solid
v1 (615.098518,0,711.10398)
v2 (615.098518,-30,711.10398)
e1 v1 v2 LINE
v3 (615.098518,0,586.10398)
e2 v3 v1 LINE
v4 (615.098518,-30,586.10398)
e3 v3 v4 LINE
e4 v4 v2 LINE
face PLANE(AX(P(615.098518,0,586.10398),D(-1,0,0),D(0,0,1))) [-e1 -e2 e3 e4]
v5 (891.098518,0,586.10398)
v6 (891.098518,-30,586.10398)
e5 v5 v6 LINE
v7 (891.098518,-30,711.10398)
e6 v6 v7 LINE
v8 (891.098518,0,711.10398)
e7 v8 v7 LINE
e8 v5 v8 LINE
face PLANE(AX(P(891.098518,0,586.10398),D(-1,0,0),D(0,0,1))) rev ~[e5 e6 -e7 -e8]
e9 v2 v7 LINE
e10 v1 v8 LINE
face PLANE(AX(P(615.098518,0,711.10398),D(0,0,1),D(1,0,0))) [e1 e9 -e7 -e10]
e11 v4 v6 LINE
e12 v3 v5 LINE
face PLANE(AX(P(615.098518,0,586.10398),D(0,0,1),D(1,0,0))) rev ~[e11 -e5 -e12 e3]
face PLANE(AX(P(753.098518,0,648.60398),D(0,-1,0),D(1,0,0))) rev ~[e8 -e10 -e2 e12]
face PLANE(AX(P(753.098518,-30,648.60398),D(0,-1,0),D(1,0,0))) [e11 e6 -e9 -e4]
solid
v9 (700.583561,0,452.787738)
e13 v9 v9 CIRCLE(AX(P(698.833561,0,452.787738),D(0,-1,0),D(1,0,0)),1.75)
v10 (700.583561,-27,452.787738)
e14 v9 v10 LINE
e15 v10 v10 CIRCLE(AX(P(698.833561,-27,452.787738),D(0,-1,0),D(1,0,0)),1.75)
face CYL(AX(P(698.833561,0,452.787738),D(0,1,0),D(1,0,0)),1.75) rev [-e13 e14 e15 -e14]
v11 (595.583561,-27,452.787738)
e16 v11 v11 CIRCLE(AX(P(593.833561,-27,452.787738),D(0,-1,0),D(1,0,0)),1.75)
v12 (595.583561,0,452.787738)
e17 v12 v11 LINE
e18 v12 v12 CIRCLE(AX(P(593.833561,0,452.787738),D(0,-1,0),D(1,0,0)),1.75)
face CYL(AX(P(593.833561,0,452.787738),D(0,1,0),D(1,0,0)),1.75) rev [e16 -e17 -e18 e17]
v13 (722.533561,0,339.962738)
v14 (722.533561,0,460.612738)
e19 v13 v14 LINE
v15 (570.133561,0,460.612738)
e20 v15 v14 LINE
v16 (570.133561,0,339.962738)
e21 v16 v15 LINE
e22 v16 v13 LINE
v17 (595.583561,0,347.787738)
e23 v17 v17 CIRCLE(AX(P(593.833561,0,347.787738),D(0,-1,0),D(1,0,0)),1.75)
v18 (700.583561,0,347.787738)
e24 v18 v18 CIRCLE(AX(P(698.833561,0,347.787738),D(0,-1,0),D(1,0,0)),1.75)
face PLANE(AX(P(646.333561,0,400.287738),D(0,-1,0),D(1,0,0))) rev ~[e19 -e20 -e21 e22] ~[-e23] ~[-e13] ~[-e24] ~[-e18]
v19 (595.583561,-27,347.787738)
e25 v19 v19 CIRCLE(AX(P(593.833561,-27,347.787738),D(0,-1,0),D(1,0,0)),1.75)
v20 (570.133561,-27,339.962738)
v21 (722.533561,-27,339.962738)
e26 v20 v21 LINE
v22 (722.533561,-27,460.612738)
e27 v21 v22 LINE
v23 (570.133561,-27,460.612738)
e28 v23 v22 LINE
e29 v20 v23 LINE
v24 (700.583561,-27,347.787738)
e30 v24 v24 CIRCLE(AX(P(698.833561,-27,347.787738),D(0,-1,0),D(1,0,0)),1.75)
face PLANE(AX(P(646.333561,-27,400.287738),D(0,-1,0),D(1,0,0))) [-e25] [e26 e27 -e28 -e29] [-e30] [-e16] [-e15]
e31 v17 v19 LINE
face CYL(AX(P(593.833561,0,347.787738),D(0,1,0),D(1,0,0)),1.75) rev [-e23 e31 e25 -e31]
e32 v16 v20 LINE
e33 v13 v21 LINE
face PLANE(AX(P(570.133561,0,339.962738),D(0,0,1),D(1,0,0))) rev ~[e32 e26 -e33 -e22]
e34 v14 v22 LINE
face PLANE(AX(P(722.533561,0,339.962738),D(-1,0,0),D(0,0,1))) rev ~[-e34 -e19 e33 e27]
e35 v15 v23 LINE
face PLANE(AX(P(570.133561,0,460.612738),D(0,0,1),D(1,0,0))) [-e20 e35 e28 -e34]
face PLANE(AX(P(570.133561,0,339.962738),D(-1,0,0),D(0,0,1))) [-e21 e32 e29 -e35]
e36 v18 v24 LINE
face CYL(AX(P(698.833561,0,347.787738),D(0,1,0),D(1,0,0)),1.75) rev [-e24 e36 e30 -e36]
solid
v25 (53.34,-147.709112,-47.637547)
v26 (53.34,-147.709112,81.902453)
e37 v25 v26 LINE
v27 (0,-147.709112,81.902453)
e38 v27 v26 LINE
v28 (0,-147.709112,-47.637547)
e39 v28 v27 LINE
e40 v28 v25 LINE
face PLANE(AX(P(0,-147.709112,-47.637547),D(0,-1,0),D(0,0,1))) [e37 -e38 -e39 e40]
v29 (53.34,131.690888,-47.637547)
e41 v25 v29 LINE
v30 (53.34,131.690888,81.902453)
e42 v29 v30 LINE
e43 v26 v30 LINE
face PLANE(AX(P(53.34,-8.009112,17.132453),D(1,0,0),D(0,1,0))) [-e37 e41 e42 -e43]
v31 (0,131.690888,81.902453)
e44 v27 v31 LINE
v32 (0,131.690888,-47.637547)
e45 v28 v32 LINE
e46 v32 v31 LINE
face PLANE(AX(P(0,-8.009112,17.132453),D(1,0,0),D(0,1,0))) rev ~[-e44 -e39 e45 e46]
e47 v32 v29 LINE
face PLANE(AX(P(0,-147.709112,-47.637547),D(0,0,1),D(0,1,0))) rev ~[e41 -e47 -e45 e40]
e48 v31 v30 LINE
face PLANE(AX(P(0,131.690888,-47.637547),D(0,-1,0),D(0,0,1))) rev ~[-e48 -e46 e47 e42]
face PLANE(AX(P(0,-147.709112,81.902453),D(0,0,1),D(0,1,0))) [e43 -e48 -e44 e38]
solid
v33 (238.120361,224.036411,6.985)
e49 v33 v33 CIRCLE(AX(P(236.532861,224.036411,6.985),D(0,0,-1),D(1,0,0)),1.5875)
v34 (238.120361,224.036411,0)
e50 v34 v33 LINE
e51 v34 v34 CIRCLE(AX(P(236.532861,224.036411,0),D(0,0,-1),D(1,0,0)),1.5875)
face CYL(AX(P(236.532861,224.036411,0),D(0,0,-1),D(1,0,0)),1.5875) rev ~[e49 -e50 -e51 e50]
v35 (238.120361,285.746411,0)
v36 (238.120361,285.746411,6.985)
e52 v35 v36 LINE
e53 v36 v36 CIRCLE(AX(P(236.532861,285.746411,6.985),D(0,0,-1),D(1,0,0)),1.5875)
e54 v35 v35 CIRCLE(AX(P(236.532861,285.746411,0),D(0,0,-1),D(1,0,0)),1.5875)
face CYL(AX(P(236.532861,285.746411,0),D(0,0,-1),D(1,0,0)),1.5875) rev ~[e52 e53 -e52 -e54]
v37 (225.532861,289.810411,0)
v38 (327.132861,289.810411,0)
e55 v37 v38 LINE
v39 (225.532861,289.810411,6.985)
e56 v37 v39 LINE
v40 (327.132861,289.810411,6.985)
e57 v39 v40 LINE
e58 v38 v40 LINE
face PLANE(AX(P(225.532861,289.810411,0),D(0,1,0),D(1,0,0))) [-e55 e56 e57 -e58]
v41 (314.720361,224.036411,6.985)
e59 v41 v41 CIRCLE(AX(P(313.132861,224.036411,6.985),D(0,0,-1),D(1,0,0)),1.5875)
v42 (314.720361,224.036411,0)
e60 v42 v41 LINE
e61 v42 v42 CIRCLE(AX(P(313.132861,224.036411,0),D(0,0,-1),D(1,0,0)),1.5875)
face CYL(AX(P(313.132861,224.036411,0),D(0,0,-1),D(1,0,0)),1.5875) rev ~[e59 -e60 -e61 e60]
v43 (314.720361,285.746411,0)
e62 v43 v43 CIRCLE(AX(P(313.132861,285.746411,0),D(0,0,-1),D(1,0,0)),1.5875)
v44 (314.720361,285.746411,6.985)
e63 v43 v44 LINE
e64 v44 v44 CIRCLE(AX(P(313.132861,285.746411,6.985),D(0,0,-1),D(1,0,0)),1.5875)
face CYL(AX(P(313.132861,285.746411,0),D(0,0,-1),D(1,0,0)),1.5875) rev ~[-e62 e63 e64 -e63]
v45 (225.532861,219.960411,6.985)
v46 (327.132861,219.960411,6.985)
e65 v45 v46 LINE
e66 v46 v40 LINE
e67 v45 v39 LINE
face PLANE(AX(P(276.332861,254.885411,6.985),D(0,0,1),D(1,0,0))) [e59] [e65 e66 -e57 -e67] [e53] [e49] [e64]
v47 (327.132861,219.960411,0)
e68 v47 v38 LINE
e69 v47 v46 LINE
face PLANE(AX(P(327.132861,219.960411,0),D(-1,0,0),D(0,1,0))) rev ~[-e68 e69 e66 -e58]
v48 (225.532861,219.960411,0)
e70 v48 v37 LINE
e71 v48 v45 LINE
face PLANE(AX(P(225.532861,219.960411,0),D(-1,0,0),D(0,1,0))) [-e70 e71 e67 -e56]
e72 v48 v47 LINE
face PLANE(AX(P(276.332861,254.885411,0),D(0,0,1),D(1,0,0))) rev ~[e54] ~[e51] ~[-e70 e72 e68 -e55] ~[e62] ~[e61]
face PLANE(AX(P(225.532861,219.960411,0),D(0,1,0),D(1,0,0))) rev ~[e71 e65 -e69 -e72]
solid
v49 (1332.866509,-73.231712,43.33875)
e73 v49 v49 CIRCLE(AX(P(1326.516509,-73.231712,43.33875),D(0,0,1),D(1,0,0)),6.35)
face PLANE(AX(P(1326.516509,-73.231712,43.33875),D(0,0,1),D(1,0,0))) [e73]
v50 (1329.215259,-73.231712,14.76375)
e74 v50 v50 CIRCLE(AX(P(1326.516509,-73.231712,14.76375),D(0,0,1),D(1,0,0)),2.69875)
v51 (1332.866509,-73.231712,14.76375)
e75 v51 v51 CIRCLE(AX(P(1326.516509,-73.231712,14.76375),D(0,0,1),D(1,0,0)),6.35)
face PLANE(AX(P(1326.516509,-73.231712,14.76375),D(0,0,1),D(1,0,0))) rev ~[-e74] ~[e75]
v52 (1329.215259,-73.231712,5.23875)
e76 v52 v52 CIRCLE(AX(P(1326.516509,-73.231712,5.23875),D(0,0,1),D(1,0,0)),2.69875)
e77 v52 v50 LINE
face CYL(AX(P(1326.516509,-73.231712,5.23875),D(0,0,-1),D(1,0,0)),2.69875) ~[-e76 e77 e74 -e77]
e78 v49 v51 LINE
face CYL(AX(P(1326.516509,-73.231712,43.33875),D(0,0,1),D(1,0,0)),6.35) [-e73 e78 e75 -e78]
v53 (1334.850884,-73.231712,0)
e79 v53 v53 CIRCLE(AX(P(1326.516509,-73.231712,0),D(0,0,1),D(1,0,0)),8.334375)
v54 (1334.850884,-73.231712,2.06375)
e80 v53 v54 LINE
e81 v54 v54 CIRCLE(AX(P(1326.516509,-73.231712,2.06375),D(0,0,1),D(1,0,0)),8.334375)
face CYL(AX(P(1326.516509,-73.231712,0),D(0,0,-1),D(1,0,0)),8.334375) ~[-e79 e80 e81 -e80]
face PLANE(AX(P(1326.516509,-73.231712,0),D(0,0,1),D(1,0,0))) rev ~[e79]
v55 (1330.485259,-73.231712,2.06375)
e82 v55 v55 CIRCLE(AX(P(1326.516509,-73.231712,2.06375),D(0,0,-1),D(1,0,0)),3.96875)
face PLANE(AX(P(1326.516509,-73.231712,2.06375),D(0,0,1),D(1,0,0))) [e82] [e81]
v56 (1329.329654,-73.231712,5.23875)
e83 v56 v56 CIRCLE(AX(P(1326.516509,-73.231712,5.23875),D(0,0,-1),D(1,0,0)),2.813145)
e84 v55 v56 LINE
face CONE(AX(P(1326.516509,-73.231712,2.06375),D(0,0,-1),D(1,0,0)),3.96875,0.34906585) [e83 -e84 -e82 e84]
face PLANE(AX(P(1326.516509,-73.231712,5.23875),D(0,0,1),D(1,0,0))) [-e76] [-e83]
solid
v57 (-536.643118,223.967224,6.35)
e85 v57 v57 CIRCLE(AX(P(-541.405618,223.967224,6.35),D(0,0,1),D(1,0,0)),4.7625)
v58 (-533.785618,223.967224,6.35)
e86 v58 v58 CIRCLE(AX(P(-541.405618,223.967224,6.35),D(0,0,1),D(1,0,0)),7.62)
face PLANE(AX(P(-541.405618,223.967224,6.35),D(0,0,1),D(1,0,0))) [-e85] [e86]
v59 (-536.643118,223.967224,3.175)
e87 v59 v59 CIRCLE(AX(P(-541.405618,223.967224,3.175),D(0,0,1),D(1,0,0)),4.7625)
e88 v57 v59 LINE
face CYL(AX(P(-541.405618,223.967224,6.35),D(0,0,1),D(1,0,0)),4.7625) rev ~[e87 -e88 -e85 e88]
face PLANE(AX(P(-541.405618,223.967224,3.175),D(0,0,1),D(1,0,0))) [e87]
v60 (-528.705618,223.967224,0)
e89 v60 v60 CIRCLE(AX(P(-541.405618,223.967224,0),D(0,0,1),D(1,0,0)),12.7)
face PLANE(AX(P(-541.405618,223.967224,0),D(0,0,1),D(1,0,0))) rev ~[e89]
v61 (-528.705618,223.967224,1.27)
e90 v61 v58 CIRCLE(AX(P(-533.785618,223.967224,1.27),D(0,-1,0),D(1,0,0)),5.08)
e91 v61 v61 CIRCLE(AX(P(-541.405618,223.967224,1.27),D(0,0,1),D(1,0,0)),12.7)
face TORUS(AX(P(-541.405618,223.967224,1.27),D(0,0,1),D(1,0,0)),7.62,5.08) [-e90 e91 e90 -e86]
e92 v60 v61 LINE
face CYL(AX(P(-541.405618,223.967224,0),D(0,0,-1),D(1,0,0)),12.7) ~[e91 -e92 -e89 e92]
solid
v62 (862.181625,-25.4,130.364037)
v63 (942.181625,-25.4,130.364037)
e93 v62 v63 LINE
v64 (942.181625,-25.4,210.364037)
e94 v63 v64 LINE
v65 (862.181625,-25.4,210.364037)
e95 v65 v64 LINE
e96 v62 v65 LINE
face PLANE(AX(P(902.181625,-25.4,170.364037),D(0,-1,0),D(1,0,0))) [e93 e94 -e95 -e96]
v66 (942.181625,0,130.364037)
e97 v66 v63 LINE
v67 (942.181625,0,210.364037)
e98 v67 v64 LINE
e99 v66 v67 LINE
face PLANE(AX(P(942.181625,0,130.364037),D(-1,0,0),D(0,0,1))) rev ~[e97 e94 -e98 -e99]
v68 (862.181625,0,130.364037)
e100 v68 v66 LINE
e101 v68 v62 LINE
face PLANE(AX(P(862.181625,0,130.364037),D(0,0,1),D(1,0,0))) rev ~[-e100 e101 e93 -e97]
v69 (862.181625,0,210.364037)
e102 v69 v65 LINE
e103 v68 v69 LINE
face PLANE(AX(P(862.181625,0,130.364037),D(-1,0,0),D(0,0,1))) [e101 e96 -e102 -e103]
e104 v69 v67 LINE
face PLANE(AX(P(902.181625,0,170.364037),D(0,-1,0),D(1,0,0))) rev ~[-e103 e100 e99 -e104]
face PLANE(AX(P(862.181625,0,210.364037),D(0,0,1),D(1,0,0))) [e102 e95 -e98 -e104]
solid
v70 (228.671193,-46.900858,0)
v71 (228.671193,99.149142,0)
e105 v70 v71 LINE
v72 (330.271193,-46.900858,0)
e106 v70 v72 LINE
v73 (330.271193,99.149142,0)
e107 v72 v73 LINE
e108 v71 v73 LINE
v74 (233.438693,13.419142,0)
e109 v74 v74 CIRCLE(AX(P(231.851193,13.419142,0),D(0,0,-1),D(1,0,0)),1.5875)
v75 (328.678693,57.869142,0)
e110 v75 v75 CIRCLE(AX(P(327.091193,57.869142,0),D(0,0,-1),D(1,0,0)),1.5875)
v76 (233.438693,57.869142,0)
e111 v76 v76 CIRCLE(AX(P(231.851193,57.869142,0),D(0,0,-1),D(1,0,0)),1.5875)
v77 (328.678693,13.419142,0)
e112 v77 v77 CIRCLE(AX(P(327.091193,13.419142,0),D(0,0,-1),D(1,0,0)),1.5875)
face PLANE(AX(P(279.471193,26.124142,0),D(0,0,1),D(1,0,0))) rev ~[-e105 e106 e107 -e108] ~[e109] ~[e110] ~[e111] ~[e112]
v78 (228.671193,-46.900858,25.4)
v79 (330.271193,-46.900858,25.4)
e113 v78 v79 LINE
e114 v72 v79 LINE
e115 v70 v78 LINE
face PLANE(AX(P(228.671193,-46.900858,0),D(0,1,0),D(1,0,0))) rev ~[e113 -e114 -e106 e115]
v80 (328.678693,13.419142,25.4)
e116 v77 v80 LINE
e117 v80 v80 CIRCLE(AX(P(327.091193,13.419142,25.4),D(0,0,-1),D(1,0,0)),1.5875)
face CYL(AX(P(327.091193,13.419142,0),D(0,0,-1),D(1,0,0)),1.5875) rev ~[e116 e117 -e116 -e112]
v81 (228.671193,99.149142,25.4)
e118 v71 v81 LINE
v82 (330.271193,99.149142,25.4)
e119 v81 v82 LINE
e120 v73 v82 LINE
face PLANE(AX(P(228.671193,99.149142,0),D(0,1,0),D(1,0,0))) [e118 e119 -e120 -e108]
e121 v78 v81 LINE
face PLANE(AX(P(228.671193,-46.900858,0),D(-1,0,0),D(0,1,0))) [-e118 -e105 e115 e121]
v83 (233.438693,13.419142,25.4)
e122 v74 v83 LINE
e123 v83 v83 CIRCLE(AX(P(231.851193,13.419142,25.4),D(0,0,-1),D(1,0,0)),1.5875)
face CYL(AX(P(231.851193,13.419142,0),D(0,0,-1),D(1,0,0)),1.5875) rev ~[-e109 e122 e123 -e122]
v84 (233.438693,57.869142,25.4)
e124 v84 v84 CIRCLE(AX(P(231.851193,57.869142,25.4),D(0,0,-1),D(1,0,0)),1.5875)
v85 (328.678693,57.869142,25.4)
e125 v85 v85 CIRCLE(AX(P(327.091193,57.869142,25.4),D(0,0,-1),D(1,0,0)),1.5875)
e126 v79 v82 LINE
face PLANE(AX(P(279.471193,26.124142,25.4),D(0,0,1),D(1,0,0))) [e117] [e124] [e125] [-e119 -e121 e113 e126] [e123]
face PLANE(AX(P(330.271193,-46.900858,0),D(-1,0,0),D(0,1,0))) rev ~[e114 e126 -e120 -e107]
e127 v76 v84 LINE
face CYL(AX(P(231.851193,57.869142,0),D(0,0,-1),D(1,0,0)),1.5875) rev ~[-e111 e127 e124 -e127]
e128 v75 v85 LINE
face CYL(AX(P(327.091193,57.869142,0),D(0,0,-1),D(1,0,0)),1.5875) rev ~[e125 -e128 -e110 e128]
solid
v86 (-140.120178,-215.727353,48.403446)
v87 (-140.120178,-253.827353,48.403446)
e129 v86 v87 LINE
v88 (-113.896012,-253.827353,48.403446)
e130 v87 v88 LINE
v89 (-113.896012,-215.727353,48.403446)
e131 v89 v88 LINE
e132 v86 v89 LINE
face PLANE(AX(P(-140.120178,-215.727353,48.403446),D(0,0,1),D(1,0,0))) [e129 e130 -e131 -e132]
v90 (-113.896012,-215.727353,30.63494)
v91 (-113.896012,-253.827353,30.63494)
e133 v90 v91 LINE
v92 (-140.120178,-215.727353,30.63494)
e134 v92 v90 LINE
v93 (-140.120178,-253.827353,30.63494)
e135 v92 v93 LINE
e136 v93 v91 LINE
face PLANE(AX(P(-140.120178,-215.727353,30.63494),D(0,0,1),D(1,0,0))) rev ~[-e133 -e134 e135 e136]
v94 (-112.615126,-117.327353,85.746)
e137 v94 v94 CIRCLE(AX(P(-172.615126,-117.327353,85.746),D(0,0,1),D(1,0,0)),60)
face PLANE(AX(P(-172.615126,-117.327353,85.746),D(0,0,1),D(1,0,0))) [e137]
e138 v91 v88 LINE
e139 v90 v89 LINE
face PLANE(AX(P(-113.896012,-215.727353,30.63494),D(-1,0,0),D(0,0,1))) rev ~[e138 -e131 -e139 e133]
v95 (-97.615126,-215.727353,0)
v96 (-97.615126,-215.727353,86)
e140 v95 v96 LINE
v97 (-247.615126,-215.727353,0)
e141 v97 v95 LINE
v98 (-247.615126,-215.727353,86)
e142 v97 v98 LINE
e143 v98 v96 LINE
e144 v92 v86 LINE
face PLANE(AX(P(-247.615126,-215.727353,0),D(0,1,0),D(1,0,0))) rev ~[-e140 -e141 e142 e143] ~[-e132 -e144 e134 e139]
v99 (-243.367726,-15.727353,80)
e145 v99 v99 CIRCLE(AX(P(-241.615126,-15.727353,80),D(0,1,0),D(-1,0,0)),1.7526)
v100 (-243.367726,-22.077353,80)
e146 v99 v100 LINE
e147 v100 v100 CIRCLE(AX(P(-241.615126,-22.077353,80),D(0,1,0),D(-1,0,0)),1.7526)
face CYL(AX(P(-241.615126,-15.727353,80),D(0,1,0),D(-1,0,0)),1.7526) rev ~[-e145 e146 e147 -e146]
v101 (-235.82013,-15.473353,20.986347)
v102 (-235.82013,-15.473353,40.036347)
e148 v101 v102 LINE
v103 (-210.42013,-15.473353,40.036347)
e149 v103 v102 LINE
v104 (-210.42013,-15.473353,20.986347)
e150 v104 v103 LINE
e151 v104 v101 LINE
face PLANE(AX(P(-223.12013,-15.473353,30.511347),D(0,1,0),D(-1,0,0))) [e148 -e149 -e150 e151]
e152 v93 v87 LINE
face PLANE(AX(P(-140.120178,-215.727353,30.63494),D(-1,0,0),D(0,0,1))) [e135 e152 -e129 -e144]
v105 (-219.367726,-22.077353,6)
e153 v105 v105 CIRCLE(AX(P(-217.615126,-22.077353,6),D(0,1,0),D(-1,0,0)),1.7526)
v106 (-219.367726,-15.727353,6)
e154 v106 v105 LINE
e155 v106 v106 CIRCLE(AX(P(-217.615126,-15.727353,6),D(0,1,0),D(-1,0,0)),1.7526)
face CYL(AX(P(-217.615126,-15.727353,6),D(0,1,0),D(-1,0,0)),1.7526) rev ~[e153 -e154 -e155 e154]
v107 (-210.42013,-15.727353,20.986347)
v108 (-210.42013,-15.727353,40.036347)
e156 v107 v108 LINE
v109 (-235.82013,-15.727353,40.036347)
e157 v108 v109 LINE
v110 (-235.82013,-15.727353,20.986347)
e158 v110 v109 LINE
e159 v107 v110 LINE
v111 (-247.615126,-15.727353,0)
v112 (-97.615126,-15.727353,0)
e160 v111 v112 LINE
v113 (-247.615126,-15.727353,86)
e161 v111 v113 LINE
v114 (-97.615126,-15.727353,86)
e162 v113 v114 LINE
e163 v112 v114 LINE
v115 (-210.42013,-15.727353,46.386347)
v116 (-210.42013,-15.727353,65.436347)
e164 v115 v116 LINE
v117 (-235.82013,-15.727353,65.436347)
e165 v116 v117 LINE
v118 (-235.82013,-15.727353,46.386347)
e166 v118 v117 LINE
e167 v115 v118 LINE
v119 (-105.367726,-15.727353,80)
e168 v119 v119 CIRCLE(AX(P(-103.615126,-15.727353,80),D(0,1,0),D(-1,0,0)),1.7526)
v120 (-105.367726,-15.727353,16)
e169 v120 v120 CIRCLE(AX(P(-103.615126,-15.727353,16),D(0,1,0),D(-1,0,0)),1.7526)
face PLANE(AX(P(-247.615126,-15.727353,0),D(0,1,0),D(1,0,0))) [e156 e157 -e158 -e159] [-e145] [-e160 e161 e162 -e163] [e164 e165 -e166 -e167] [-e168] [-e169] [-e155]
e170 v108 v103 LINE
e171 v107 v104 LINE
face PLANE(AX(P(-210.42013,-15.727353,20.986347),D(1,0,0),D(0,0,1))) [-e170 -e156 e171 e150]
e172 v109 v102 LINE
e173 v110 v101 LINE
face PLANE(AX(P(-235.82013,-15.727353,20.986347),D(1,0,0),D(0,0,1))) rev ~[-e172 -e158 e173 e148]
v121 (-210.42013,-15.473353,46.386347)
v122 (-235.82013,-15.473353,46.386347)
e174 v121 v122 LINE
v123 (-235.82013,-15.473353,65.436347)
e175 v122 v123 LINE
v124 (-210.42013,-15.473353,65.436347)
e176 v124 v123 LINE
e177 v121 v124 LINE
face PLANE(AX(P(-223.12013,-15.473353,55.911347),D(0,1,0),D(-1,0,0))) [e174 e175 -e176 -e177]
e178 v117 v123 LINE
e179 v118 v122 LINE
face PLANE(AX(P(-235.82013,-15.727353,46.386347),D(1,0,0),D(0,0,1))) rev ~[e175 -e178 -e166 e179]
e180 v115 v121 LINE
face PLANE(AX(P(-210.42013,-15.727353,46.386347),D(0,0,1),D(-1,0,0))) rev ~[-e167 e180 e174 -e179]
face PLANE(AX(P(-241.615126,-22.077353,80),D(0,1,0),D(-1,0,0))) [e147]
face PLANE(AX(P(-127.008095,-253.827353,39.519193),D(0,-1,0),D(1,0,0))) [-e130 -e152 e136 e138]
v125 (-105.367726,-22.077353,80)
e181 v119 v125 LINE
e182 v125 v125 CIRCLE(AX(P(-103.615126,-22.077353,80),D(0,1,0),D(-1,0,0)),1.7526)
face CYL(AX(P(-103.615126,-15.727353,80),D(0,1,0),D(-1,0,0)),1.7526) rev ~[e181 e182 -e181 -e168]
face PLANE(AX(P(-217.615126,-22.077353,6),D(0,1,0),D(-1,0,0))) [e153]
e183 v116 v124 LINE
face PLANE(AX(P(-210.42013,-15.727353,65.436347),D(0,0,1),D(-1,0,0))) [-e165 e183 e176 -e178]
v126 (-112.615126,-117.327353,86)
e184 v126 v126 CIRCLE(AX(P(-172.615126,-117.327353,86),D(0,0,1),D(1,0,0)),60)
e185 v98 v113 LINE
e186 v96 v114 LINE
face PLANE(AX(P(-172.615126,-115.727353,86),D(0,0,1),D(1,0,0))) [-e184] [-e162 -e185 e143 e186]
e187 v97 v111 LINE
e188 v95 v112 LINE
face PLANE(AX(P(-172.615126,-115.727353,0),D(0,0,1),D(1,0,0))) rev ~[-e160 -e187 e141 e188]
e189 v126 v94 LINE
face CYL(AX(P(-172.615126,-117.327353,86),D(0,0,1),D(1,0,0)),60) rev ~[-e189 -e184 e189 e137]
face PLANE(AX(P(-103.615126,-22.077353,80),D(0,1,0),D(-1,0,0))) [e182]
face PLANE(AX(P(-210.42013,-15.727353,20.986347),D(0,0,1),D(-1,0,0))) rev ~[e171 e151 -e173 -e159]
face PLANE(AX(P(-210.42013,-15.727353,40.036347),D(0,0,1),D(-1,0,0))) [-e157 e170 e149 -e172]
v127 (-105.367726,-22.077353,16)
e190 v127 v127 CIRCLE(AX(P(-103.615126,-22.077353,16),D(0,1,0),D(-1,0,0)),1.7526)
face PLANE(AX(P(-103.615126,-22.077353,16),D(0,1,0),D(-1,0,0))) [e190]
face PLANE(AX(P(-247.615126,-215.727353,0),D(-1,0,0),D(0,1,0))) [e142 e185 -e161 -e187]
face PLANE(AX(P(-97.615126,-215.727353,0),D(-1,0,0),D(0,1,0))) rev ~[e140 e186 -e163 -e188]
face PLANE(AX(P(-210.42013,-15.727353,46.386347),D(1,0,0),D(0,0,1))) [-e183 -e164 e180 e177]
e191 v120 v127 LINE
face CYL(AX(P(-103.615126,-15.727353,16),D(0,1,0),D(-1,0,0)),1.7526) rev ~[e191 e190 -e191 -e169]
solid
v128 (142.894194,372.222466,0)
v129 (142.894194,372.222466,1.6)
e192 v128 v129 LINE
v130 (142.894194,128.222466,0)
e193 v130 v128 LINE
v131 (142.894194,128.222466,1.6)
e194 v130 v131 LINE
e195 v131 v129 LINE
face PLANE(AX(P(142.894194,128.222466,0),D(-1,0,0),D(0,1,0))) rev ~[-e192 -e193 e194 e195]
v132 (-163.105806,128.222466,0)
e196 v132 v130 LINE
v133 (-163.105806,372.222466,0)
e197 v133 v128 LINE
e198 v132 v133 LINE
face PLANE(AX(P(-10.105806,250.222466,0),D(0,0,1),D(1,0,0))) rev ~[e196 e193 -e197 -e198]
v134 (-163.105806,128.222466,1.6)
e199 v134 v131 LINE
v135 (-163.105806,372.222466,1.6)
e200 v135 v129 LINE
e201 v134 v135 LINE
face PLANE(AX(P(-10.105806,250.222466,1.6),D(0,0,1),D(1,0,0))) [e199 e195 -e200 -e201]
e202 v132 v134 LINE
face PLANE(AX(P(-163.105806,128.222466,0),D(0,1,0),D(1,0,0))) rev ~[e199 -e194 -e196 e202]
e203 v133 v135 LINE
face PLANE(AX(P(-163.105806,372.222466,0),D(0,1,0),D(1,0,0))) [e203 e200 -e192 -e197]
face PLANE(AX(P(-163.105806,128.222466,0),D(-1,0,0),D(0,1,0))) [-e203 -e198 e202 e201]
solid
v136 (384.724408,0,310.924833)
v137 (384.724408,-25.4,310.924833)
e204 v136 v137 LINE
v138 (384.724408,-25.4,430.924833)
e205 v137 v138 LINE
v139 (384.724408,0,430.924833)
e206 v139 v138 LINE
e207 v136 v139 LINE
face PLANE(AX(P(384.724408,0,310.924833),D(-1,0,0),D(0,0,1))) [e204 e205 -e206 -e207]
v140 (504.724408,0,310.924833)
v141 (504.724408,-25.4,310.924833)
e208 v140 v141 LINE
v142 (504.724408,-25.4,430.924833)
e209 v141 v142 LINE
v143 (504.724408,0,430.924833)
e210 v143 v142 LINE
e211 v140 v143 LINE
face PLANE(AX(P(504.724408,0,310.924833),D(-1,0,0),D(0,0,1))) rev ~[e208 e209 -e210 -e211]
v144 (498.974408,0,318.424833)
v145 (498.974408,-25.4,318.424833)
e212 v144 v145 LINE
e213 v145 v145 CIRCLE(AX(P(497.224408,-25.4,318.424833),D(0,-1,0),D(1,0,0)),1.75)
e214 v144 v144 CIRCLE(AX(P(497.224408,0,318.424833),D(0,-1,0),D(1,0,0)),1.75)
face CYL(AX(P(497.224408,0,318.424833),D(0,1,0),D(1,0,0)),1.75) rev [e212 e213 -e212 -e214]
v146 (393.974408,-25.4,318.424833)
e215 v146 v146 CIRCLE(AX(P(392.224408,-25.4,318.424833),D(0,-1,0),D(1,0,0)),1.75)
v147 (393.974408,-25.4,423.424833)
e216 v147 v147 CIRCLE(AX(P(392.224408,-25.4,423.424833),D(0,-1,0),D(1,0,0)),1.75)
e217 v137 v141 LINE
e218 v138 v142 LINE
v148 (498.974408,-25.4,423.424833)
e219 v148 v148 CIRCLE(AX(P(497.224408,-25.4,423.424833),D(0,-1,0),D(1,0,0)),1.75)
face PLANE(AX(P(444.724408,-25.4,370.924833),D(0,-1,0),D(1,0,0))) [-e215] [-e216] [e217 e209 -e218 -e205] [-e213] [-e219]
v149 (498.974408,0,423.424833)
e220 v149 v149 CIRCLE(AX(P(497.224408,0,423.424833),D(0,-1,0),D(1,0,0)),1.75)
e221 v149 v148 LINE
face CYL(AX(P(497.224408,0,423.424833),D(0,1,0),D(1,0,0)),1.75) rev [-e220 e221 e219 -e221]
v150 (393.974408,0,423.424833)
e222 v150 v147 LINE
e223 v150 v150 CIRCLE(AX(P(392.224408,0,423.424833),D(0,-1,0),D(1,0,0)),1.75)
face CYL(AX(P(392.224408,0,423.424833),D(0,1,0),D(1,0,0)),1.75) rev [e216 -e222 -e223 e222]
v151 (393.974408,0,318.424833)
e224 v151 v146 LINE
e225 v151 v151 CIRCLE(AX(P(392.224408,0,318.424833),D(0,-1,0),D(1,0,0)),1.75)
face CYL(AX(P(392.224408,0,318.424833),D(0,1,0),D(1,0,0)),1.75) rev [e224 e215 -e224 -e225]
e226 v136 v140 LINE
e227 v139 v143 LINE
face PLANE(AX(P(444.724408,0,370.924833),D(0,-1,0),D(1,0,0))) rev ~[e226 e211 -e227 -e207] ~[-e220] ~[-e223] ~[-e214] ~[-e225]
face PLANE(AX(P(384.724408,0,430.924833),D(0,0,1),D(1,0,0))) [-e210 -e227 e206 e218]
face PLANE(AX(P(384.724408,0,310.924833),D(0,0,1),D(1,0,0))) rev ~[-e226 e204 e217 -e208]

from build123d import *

# Parameters (mm, degrees)
F0_W      = 306
F0_H      = 244
F1_DEPTH  = 1.6
F2_W      = 279.4
F2_H      = 129.54
F3_DEPTH  = 53.34
F4_W      = 150
F4_H      = 200
F5_DEPTH  = 86
F6_W      = 120
F6_H      = 120
F6_R      = 1.75
F7_DEPTH  = 25.4
F8_W      = 80
F8_H      = 80
F9_DEPTH  = 25.4
F10_W     = 152.4
F10_H     = 120.65
F10_R     = 1.75
F11_DEPTH = 27
F12_W     = 101.6
F12_H     = 146.05
F13_DEPTH = 25.4
F14_W     = 101.6
F14_H     = 69.85
F15_DEPTH = 6.985
F16_R     = 1.7526
F17_DEPTH = 6.35
F18_R     = 60
F19_DEPTH = 0.254
F20_W     = 25.4
F20_H     = 19.05
F21_DEPTH = 0.254
F22_R     = 8.334375
F23_DEPTH = 2.06375
F24_R     = 3.96875
F25_DEPTH = 3.175
F25_TAPER = 20
F26_R     = 2.69875
F27_DEPTH = 38.1
F28_R     = 1.5875
F29_DEPTH = 460.6137378464
F30_R     = 12.7
F31_DEPTH = 6.35
F32_R     = 4.7625
F33_DEPTH = 3.175
F34_R     = 5.08
F35_W     = 26.2241661549
F35_H     = 17.7685059607
F36_DEPTH = 38.1
F37_W     = 276
F37_H     = 125
F38_DEPTH = 30
F39_R     = 6.35
F39_R_2   = 2.69875
F40_DEPTH = 28.575


with BuildPart() as f1:
    # F0 (on Top) → F1 (new body)
    with BuildSketch(Plane.XY):
        with Locations((-10.1058064699, 250.2224655151)):
            Rectangle(F0_W, F0_H)
    extrude(amount=F1_DEPTH)


with BuildPart() as f3:
    # F2 (on Right) → F3 (new body)
    with BuildSketch(Plane.YZ):
        with Locations((-8.0091123909, 17.1324525767)):
            Rectangle(F2_W, F2_H)
    extrude(amount=F3_DEPTH)


with BuildPart() as f5:
    # F4 (on Top) → F5 (new body)
    with BuildSketch(Plane.XY):
        with Locations((-172.6151257753, -115.727353482)):
            Rectangle(F4_W, F4_H)
    extrude(amount=F5_DEPTH)

    # F16 (on face) → F17 (cut)
    with BuildSketch(Plane(origin=(0, -15.727353482, 0), x_dir=(-1, 0, 0), z_dir=(0, 1, 0))):
        with Locations((103.6151257753, 80)):
            Circle(F16_R)
        with Locations((103.6151257753, 16)):
            Circle(F16_R)
        with Locations((217.6151257753, 6)):
            Circle(F16_R)
        with Locations((241.6151257753, 80)):
            Circle(F16_R)
    extrude(amount=-F17_DEPTH, mode=Mode.SUBTRACT)

    # F18 (on face) → F19 (cut)
    with BuildSketch(Plane.XY.offset(86)):
        with Locations((-172.6151257753, -117.327353482)):
            Circle(F18_R)
    extrude(amount=-F19_DEPTH, mode=Mode.SUBTRACT)

    # F20 (on face) → F21 (join)
    with BuildSketch(Plane(origin=(0, -15.727353482, 0), x_dir=(-1, 0, 0), z_dir=(0, 1, 0))):
        with Locations((223.1201295137, 30.5113465279)):
            Rectangle(F20_W, F20_H)
        with Locations((223.1201295137, 55.9113465279)):
            Rectangle(F20_W, F20_H)
    extrude(amount=F21_DEPTH)

    # F35 (on face) → F36 (join)
    with BuildSketch(Plane.XZ.offset(215.727353482)):
        with Locations((-127.0080953836, 39.5191926509)):
            Rectangle(F35_W, F35_H)
    extrude(amount=F36_DEPTH)


with BuildPart() as f7:
    # F6 (on Front) → F7 (new body)
    with BuildSketch(Plane.XZ):
        with Locations((444.7244083881, 370.9248328209)):
            Rectangle(F6_W, F6_H)
        with Locations((392.2244083881, 318.4248328209)):
            Circle(F6_R, mode=Mode.SUBTRACT)
        with Locations((497.2244083881, 318.4248328209)):
            Circle(F6_R, mode=Mode.SUBTRACT)
        with Locations((392.2244083881, 423.4248328209)):
            Circle(F6_R, mode=Mode.SUBTRACT)
        with Locations((497.2244083881, 423.4248328209)):
            Circle(F6_R, mode=Mode.SUBTRACT)
    extrude(amount=F7_DEPTH)


with BuildPart() as f9:
    # F8 (on Front) → F9 (new body)
    with BuildSketch(Plane.XZ):
        with Locations((902.1816253662, 170.364036846)):
            Rectangle(F8_W, F8_H)
    extrude(amount=F9_DEPTH)


with BuildPart() as f11:
    # F10 (on Front) → F11 (new body)
    with BuildSketch(Plane.XZ):
        with Locations((646.3335609436, 400.2877378464)):
            Rectangle(F10_W, F10_H)
        with Locations((593.8335609436, 347.7877378464)):
            Circle(F10_R, mode=Mode.SUBTRACT)
        with Locations((698.8335609436, 347.7877378464)):
            Circle(F10_R, mode=Mode.SUBTRACT)
        with Locations((593.8335609436, 452.7877378464)):
            Circle(F10_R, mode=Mode.SUBTRACT)
        with Locations((698.8335609436, 452.7877378464)):
            Circle(F10_R, mode=Mode.SUBTRACT)
    extrude(amount=F11_DEPTH)


with BuildPart() as f13:
    # F12 (on Top) → F13 (new body)
    with BuildSketch(Plane.XY):
        with Locations((279.4711928766, 26.1241421103)):
            Rectangle(F12_W, F12_H)
    extrude(amount=F13_DEPTH)


with BuildPart() as f15:
    # F14 (on Top) → F15 (new body)
    with BuildSketch(Plane.XY):
        with Locations((276.3328612199, 254.8854114509)):
            Rectangle(F14_W, F14_H)
    extrude(amount=F15_DEPTH)


with BuildPart() as f23:
    # F22 (on Top) → F23 (new body)
    with BuildSketch(Plane.XY):
        with Locations((1326.5165090561, -73.2317119837)):
            Circle(F22_R)
    extrude(amount=F23_DEPTH)

    # F24 (on face) → F25 (join)
    with BuildSketch(Plane.XY.offset(2.06375)):
        with Locations((1326.5165090561, -73.2317119837)):
            Circle(F24_R)
    extrude(amount=F25_DEPTH, taper=F25_TAPER)

    # F26 (on face) → F27 (join)
    with BuildSketch(Plane.XY.offset(5.23875)):
        with Locations((1326.5165090561, -73.2317119837)):
            Circle(F26_R)
    extrude(amount=F27_DEPTH)

    # F39 (on face) → F40 (join)
    with BuildSketch(Plane.XY.offset(43.33875)):
        with Locations((1326.5165090561, -73.2317119837)):
            Circle(F39_R)
        with Locations((1326.5165090561, -73.2317119837)):
            Circle(F39_R_2, mode=Mode.SUBTRACT)
    extrude(amount=-F40_DEPTH)


with BuildPart() as f29_tool:
    # F28 (on face) → F29 (new body, through all)
    with BuildSketch(Plane(origin=(0, 0, 0), x_dir=(1, 0, 0), z_dir=(0, 0, -1))):
        with Locations((231.8511928766, -13.4191421103)):
            Circle(F28_R)
        with Locations((327.0911928766, -13.4191421103)):
            Circle(F28_R)
        with Locations((231.8511928766, -57.8691421103)):
            Circle(F28_R)
        with Locations((327.0911928766, -57.8691421103)):
            Circle(F28_R)
        with Locations((313.1328612199, -224.0364114509)):
            Circle(F28_R)
        with Locations((313.1328612199, -285.7464114509)):
            Circle(F28_R)
        with Locations((236.5328612199, -224.0364114509)):
            Circle(F28_R)
        with Locations((236.5328612199, -285.7464114509)):
            Circle(F28_R)
    extrude(amount=-F29_DEPTH)


with BuildPart() as f13_1:
    add(f13.part)

    # F29: cut by f29_tool
    add(f29_tool.part, mode=Mode.SUBTRACT)


with BuildPart() as f15_1:
    add(f15.part)

    # F29: cut by f29_tool
    add(f29_tool.part, mode=Mode.SUBTRACT)


with BuildPart() as f31:
    # F30 (on Top) → F31 (new body)
    with BuildSketch(Plane.XY):
        with Locations((-541.4056181908, 223.9672243595)):
            Circle(F30_R)
    extrude(amount=F31_DEPTH)

    # F32 (on face) → F33 (cut)
    with BuildSketch(Plane.XY.offset(6.35)):
        with Locations((-541.4056181908, 223.9672243595)):
            Circle(F32_R)
    extrude(amount=-F33_DEPTH, mode=Mode.SUBTRACT)

    # F34
    f34_edges = [f31.edges().sort_by_distance(p)[0] for p in [
        (-554.105618, 223.967224, 6.35),
    ]]
    fillet(f34_edges, radius=F34_R)


with BuildPart() as f38:
    # F37 (on Front) → F38 (new body)
    with BuildSketch(Plane.XZ):
        with Locations((753.0985176563, 648.6039801365)):
            Rectangle(F37_W, F37_H)
    extrude(amount=F38_DEPTH)


solid = Compound([f1.part, f3.part, f5.part, f7.part, f9.part, f11.part, f23.part, f13_1.part, f15_1.part, f31.part, f38.part])
